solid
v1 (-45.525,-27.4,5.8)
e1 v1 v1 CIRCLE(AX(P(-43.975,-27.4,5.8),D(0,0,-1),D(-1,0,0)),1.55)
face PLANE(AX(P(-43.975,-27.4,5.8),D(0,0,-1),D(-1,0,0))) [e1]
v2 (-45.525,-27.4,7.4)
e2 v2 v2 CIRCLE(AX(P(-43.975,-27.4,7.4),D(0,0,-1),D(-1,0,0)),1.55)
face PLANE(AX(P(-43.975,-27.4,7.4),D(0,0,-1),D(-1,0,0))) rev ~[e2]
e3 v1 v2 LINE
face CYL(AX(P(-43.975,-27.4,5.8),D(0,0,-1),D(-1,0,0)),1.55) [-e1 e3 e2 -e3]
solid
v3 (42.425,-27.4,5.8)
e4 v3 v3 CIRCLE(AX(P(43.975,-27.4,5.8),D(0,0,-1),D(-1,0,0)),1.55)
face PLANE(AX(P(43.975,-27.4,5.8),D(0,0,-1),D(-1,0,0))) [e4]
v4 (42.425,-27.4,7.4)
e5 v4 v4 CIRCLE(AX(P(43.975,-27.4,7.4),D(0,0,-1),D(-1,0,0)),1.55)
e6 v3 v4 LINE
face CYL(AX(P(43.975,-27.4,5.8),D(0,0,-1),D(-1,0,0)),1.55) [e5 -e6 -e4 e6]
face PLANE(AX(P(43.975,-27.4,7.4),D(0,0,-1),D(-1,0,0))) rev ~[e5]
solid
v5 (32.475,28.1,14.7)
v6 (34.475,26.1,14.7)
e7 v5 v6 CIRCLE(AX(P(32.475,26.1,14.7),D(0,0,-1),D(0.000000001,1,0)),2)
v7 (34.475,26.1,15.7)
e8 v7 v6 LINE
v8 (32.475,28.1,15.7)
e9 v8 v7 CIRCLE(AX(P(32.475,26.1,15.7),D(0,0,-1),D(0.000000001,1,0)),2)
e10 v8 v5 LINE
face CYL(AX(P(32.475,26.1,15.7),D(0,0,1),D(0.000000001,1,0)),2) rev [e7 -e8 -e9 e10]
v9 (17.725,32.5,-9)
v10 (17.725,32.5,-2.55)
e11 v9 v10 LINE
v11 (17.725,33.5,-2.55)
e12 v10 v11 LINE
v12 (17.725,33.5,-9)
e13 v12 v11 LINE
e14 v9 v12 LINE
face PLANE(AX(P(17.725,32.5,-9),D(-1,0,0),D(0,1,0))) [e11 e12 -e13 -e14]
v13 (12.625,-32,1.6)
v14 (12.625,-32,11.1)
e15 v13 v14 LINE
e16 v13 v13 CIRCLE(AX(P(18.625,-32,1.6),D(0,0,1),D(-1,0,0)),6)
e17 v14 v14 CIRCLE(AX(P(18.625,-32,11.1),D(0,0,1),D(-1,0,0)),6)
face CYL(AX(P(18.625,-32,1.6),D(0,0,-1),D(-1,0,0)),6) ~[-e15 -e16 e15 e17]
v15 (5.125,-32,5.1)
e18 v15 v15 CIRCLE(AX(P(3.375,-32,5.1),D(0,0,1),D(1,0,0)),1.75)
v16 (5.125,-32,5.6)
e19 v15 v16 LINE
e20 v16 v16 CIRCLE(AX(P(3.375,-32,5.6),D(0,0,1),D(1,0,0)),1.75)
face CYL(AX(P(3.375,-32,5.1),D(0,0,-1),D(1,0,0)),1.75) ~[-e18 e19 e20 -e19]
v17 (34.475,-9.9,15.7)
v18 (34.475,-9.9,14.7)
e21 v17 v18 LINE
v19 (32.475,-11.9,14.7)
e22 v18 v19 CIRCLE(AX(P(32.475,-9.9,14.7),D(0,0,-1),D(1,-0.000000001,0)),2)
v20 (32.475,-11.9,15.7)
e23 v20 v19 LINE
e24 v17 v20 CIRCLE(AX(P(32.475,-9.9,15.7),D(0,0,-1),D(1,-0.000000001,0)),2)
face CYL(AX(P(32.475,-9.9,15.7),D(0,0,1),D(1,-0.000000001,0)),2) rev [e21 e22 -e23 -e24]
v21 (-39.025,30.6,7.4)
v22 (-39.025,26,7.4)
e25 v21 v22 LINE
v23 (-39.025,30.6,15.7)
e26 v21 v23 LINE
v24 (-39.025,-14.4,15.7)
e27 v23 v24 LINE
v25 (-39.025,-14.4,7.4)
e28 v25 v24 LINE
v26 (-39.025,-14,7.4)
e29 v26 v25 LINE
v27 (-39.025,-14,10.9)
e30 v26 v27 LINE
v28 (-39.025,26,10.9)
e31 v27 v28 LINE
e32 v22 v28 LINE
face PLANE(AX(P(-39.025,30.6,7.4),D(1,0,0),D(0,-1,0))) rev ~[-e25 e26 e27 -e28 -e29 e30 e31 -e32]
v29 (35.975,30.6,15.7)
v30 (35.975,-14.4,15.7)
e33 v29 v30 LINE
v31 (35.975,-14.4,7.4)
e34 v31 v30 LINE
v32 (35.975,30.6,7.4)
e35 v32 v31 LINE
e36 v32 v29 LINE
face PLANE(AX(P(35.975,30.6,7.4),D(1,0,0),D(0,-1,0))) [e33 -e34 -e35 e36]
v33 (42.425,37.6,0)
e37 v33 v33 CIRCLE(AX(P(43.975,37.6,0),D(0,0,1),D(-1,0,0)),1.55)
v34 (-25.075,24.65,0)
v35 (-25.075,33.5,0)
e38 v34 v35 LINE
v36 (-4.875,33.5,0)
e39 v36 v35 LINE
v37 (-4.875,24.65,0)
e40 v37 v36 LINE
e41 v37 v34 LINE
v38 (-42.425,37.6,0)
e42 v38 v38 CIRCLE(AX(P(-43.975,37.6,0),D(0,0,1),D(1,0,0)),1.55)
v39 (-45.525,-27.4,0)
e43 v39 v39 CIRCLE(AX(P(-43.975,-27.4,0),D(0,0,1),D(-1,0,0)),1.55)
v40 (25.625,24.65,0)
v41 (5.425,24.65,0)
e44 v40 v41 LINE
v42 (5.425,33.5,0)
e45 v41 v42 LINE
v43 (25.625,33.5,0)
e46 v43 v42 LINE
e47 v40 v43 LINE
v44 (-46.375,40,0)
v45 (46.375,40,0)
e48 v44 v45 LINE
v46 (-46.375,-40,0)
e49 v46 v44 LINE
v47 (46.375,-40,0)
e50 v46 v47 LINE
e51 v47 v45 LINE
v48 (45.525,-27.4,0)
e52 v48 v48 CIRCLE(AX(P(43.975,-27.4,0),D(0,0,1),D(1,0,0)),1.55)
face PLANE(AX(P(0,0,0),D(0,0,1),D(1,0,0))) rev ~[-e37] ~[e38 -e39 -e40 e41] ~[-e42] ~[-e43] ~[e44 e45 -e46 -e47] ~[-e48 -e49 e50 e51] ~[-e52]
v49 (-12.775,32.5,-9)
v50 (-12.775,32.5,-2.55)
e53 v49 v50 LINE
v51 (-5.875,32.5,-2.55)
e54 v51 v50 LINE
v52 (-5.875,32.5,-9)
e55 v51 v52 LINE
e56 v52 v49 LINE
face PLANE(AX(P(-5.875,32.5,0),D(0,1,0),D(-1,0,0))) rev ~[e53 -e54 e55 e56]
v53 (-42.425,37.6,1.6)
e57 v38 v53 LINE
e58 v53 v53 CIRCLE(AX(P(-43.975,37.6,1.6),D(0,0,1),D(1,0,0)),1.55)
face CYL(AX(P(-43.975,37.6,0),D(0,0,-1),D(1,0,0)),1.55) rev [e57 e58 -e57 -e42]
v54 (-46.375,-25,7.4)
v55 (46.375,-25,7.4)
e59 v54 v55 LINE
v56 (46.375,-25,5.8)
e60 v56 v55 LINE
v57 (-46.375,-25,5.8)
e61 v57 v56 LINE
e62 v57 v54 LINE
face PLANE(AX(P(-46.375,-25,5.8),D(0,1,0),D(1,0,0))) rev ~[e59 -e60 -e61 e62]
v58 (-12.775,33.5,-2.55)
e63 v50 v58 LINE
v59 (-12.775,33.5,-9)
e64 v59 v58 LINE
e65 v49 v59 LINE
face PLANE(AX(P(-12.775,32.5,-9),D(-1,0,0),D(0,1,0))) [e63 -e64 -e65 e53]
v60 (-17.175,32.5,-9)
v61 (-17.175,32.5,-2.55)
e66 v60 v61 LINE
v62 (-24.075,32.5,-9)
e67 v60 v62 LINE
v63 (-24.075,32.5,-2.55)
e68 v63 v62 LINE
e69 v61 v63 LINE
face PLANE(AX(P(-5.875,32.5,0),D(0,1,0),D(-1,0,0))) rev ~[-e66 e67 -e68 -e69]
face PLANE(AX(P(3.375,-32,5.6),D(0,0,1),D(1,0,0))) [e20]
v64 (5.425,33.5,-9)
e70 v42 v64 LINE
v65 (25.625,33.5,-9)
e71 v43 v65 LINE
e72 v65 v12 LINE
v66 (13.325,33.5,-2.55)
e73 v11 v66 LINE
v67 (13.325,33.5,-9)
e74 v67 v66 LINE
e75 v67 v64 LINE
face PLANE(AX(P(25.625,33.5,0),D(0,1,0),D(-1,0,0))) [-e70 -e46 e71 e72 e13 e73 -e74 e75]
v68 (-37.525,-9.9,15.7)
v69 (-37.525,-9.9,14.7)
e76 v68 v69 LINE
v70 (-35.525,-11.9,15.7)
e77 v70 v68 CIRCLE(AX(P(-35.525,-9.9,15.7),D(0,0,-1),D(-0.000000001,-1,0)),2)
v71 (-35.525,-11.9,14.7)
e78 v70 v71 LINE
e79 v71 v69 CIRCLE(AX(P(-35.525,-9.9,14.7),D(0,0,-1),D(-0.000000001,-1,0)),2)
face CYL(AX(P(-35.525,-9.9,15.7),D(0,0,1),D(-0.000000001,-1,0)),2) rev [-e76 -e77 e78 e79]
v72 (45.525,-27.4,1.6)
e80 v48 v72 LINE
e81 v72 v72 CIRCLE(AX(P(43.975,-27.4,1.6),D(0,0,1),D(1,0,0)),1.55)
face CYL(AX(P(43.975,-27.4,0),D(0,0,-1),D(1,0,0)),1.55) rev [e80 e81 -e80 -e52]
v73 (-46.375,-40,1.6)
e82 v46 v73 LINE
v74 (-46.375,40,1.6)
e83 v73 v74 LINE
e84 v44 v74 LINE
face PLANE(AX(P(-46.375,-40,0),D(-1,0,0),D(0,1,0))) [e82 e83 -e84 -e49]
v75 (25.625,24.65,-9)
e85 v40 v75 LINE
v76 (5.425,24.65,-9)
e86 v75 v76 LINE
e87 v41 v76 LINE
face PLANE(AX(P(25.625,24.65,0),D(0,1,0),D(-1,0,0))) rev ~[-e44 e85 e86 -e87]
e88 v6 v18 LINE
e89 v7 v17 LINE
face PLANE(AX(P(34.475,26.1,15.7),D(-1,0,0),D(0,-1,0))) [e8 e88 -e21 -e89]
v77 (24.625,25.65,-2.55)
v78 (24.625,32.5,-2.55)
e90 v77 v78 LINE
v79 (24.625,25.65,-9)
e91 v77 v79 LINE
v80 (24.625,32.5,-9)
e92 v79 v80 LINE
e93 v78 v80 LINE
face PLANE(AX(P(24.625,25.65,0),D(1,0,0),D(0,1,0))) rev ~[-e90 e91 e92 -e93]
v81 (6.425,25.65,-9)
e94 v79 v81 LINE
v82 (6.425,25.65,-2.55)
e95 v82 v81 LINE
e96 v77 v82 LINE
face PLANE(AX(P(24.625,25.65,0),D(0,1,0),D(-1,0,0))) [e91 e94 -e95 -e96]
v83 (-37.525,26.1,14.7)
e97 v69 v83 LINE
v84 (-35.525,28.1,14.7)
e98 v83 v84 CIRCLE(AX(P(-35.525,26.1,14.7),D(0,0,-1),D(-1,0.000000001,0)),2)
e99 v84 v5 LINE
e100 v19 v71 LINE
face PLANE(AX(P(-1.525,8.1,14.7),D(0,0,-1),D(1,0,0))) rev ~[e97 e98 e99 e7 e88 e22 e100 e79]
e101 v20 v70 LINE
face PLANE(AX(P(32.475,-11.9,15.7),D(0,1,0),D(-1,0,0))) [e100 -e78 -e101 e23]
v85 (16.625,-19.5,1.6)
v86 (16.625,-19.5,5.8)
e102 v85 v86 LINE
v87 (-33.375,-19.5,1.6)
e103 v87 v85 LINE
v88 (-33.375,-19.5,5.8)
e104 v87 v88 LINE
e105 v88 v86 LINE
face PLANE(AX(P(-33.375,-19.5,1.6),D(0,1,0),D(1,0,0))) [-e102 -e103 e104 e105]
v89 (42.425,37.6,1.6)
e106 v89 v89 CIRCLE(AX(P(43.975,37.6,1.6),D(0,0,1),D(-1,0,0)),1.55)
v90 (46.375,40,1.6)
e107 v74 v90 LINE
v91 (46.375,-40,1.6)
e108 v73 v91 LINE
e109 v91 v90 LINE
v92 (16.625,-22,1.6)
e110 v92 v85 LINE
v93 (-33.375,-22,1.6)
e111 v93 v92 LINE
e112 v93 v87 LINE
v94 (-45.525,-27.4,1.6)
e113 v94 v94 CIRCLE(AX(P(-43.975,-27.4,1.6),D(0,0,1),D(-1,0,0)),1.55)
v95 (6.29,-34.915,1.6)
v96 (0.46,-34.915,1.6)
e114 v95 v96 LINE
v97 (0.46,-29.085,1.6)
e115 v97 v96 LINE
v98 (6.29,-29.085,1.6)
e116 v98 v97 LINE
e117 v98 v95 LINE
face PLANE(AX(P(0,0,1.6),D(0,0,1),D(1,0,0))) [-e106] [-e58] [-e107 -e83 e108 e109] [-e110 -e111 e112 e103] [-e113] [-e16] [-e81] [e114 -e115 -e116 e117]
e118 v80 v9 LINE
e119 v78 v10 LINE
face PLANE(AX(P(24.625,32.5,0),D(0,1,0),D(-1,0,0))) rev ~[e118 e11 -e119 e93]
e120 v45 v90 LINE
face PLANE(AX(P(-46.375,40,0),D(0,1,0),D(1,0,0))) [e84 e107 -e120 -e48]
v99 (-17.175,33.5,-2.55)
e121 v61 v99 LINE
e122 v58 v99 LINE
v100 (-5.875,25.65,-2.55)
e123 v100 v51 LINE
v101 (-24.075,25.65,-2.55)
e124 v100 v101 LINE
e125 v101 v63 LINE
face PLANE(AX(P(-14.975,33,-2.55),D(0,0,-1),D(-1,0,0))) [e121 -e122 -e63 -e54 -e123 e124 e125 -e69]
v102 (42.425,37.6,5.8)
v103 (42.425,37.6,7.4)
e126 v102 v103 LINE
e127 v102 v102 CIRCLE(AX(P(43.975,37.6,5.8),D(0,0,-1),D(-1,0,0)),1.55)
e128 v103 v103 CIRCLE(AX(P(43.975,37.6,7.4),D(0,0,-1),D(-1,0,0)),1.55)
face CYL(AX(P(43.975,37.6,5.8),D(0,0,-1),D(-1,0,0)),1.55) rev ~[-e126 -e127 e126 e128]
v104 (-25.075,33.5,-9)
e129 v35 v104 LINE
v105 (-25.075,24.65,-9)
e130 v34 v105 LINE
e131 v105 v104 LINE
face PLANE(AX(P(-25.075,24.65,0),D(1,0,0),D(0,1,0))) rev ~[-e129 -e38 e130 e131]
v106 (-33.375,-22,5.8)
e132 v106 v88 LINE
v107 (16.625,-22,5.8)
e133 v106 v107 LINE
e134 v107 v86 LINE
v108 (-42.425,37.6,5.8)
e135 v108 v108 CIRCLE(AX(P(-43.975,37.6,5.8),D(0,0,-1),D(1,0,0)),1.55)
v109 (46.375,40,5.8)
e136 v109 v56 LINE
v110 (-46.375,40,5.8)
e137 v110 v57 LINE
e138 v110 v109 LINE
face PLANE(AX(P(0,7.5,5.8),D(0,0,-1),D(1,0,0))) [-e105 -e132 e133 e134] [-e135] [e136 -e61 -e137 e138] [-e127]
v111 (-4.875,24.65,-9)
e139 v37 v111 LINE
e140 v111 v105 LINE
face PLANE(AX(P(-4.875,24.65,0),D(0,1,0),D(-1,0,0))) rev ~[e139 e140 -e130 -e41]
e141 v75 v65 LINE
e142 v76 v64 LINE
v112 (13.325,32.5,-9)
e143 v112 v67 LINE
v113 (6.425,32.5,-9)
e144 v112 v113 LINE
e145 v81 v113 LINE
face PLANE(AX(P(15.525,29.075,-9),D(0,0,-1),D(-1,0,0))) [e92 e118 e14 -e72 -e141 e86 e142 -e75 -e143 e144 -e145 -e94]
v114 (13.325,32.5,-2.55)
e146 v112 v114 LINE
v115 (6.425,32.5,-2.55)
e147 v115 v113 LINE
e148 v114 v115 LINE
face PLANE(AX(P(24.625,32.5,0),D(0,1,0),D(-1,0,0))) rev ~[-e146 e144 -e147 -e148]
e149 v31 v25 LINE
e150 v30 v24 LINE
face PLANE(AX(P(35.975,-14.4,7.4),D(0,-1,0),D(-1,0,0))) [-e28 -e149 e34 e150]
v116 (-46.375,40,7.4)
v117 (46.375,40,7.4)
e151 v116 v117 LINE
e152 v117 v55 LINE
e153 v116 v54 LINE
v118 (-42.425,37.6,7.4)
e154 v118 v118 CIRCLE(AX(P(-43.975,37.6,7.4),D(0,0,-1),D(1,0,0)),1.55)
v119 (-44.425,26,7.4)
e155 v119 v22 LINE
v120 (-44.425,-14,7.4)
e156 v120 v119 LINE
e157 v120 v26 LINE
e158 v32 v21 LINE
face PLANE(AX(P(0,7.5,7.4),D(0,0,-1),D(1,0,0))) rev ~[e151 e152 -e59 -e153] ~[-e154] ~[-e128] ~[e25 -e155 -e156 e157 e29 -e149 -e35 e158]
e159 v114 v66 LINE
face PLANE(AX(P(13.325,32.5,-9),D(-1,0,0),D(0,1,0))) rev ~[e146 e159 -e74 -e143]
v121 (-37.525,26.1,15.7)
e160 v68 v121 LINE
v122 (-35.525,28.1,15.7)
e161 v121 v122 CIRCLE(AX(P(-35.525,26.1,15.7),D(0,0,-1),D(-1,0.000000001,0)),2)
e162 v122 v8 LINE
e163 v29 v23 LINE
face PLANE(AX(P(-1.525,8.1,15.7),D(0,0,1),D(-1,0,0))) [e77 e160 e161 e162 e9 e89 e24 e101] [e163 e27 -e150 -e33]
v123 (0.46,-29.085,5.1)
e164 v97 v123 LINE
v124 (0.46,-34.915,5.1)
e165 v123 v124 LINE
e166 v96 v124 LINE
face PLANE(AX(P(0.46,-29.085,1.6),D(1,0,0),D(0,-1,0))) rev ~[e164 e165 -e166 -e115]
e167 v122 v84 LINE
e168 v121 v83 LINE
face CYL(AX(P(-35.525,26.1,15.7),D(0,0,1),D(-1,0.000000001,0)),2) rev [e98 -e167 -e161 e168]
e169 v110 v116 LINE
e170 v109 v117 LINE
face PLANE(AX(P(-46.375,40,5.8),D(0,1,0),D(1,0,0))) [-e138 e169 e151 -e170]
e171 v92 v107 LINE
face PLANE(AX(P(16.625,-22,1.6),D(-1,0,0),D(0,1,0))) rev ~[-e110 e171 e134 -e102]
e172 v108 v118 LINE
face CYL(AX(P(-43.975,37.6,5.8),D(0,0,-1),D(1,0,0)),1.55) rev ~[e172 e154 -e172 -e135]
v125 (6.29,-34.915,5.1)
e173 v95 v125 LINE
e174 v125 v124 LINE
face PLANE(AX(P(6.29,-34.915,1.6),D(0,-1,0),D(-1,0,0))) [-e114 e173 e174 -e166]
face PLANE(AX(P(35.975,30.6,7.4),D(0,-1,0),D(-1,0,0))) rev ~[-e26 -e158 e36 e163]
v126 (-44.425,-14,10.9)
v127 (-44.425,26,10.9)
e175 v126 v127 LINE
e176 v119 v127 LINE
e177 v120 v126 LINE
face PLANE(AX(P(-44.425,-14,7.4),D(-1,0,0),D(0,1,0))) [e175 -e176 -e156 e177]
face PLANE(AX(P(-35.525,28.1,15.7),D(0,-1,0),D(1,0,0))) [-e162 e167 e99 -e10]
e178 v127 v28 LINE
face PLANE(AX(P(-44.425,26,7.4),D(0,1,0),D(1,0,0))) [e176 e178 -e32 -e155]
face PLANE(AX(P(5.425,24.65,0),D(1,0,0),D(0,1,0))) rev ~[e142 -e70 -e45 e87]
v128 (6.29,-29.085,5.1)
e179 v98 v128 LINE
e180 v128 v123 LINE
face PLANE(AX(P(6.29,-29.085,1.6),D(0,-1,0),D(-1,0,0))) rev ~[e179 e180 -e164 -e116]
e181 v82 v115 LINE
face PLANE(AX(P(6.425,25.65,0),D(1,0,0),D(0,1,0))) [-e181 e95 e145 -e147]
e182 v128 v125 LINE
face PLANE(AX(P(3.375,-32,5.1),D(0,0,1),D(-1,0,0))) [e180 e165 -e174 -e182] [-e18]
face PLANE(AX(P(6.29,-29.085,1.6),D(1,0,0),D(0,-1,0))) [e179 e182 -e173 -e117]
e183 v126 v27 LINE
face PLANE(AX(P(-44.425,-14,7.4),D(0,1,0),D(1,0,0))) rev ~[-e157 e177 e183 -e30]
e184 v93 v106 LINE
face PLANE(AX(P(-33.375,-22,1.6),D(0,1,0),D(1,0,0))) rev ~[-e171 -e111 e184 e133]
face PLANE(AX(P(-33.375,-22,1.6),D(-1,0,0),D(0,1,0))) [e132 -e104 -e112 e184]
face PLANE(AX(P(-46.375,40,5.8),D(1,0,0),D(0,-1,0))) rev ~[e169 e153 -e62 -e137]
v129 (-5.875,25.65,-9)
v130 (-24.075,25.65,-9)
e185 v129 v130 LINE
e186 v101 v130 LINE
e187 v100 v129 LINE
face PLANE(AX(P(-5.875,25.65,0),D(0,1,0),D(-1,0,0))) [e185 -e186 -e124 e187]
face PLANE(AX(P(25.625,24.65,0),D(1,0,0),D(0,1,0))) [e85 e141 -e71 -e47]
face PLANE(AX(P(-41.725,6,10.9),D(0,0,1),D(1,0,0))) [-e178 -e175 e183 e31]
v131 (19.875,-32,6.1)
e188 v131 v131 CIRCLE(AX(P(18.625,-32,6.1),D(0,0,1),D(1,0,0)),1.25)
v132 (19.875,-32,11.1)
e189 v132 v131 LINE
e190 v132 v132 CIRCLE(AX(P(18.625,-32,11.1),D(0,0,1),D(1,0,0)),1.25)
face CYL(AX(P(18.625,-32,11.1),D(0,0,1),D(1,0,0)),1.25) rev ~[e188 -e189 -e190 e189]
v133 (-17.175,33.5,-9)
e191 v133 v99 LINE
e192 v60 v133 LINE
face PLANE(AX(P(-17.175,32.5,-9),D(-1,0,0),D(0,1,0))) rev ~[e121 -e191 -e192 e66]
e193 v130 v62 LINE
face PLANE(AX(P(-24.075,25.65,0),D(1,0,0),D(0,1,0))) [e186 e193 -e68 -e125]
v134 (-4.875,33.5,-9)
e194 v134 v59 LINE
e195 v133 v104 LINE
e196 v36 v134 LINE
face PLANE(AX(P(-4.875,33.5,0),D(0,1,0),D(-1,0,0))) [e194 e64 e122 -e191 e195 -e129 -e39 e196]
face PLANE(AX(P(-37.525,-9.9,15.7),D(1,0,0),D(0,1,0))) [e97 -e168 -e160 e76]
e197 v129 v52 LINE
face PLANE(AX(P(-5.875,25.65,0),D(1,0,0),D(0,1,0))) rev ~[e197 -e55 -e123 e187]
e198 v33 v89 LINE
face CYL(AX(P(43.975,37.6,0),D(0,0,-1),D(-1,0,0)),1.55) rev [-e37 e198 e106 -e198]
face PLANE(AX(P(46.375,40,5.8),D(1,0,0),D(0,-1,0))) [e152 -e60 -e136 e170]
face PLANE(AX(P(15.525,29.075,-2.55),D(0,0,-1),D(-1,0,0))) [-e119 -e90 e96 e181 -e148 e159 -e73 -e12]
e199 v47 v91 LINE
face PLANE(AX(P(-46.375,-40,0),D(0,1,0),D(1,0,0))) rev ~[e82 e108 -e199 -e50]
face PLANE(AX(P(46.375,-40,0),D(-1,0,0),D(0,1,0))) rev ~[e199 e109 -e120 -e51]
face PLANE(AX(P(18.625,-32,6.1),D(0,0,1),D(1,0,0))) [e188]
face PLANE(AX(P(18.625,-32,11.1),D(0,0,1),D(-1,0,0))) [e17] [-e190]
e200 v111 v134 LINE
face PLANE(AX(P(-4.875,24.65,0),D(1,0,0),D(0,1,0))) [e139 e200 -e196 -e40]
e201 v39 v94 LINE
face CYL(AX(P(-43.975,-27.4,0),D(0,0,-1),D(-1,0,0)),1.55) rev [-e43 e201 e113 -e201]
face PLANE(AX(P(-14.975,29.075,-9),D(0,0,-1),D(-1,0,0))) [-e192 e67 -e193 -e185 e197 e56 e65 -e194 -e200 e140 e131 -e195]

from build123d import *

# Parameters (mm, degrees)
SKETCH1_W                             = 92.75
SKETCH1_H                             = 80
SKETCH1_R                             = 1.55
BOSS_EXTRUDE1_FIRST_PCB_DEPTH         = 1.6
SKETCH2_R                             = 6
BOSS_EXTRUDE2_SPEAKER_DEPTH           = 9.5
SKETCH15_R                            = 1.25
CUT_EXTRUDE1_SPEAKER_HOLE_DEPTH       = 5
SKETCH4_W                             = 5.83
SKETCH4_H                             = 5.83
BOSS_EXTRUDE4_RESET_SWITCH_DEPTH      = 3.5
SKETCH5_R                             = 1.75
BOSS_EXTRUDE5_RESET_BUTTON_DEPTH      = 0.5
SKETCH19_W                            = 50
SKETCH19_H                            = 2.5
BOSS_EXTRUDE10_CONNECTOR_DEPTH        = 4.2
SKETCH11_R                            = 1.55
SKETCH11_W                            = 92.75
SKETCH11_H                            = 65
BOSS_EXTRUDE11_UPPER_PCB_DEPTH        = 1.6
SKETCH12_W                            = 75
SKETCH12_H                            = 45
BOSS_EXTRUDE12_LCD_DEPTH              = 8.3
SKETCH24_W                            = 5.4
SKETCH24_H                            = 40
BOSS_EXTRUDE13_LCD_BUMPOUT_DEPTH      = 3.5
CUT_EXTRUDE2_SCREEN_RECESS_DEPTH      = 1
SKETCH21_W                            = 20.2
SKETCH21_H                            = 8.85
SKETCH21_W_2                          = 18.2
SKETCH21_H_2                          = 6.85
BOSS_EXTRUDE14_CONNECTORS_DEPTH       = 9
SKETCH22_W                            = 18.2
SKETCH22_H                            = 6.85
BOSS_EXTRUDE15_CONNECTOR_RECESS_DEPTH = 2.55
SKETCH23_W                            = 4.4
SKETCH23_H                            = 1
CUT_EXTRUDE3_CONNECTOR_NOTCH_DEPTH    = 6.45


with BuildPart() as part:
    # Sketch1 → Boss-Extrude1 - First PCB (new body)
    with BuildSketch(Plane.XY):
        Rectangle(SKETCH1_W, SKETCH1_H)
        with Locations((-43.975, 37.6)):
            Circle(SKETCH1_R, mode=Mode.SUBTRACT)
        with Locations(Location((43.975, 37.6, 0), (0, 0, 180))):
            Circle(SKETCH1_R, mode=Mode.SUBTRACT)
        with Locations((43.975, -27.4)):
            Circle(SKETCH1_R, mode=Mode.SUBTRACT)
        with Locations(Location((-43.975, -27.4, 0), (0, 0, 180))):
            Circle(SKETCH1_R, mode=Mode.SUBTRACT)
    extrude(amount=BOSS_EXTRUDE1_FIRST_PCB_DEPTH)

    # Sketch2 → Boss-Extrude2 - Speaker (add)
    with BuildSketch(Plane.XY.offset(1.6)):
        with Locations(Location((18.625, -32, 0), (0, 0, 180))):
            Circle(SKETCH2_R)
    extrude(amount=BOSS_EXTRUDE2_SPEAKER_DEPTH)

    # Sketch15 → Cut-Extrude1 - Speaker Hole (cut)
    with BuildSketch(Plane.XY.offset(11.1)):
        with Locations((18.625, -32)):
            Circle(SKETCH15_R)
    extrude(amount=-CUT_EXTRUDE1_SPEAKER_HOLE_DEPTH, mode=Mode.SUBTRACT)

    # Sketch4 → Boss-Extrude4 - Reset Switch (add)
    with BuildSketch(Plane(origin=(0, 0, 1.6), x_dir=(-1, 0, 0), z_dir=(0, 0, 1))):
        with Locations((-3.375, 32)):
            Rectangle(SKETCH4_W, SKETCH4_H)
    extrude(amount=BOSS_EXTRUDE4_RESET_SWITCH_DEPTH)

    # Sketch5 → Boss-Extrude5 - Reset Button (add)
    with BuildSketch(Plane(origin=(0, 0, 5.1), x_dir=(-1, 0, 0), z_dir=(0, 0, 1))):
        with Locations(Location((-3.375, 32, 0), (0, 0, 180))):
            Circle(SKETCH5_R)
    extrude(amount=BOSS_EXTRUDE5_RESET_BUTTON_DEPTH)

    # Sketch19 → Boss-Extrude10 - Connector (add)
    with BuildSketch(Plane.XY.offset(1.6)):
        with Locations((-8.375, -20.75)):
            Rectangle(SKETCH19_W, SKETCH19_H)
    extrude(amount=BOSS_EXTRUDE10_CONNECTOR_DEPTH)

    # Sketch11 → Boss-Extrude11 - Upper PCB (add)
    # profile 1 of 3: a face of its own
    with BuildSketch(Plane(origin=(0, -2, 5.8), x_dir=(1, 0, 0), z_dir=(0, 0, -1))):
        with Locations(Location((-43.975, 25.4, 0), (0, 0, 180))):
            Circle(SKETCH11_R)
    # profile 2 of 3: a face of its own
    with BuildSketch(Plane(origin=(0, -2, 5.8), x_dir=(1, 0, 0), z_dir=(0, 0, -1))):
        with Locations(Location((43.975, 25.4, 0), (0, 0, 180))):
            Circle(SKETCH11_R)
    # profile 3 of 3: a face of its own
    with BuildSketch(Plane(origin=(0, -2, 5.8), x_dir=(1, 0, 0), z_dir=(0, 0, -1))):
        with Locations((0, -9.5)):
            Rectangle(SKETCH11_W, SKETCH11_H)
        with Locations((-43.975, -39.6)):
            Circle(SKETCH11_R, mode=Mode.SUBTRACT)
        with Locations(Location((43.975, -39.6, 0), (0, 0, 180))):
            Circle(SKETCH11_R, mode=Mode.SUBTRACT)
    extrude(amount=-BOSS_EXTRUDE11_UPPER_PCB_DEPTH)


with BuildPart() as boss_extrude11_upper_pcb_piece_1:
    # of the separate pieces the step leaves, piece 1, a body of its own (boss_extrude11_upper_pcb_pieces)
    add(part.part.solids().sort_by_distance((46.375, -25, 5.8))[0])

    # Sketch12 → Boss-Extrude12 - LCD (add)
    with BuildSketch(Plane(origin=(0, 0, 7.4), x_dir=(-1, 0, 0), z_dir=(0, 0, 1))):
        with Locations((1.525, -8.1)):
            Rectangle(SKETCH12_W, SKETCH12_H)
    extrude(amount=BOSS_EXTRUDE12_LCD_DEPTH)

    # Sketch24 → Boss-Extrude13 - LCD Bumpout (add)
    with BuildSketch(Plane.XY.offset(7.4)):
        with Locations((-41.725, 6)):
            Rectangle(SKETCH24_W, SKETCH24_H)
    extrude(amount=BOSS_EXTRUDE13_LCD_BUMPOUT_DEPTH)

    # Sketch13 → Cut-Extrude2 - Screen Recess (cut)
    with BuildSketch(Plane(origin=(0, 0, 15.7), x_dir=(-1, 0, 0), z_dir=(0, 0, 1))):
        with BuildLine():
            Line((-32.475, 11.9), (35.525, 11.9))
            ThreePointArc((35.525, 11.9), (36.939213562, 11.314213562), (37.525, 9.9))
            Line((37.525, 9.9), (37.525, -26.1))
            ThreePointArc((37.525, -26.1), (36.939213562, -27.514213562), (35.525, -28.1))
            Line((35.525, -28.1), (-32.475, -28.1))
            ThreePointArc((-32.475, -28.1), (-33.889213562, -27.514213562), (-34.475, -26.1))
            Line((-34.475, -26.1), (-34.475, 9.9))
            ThreePointArc((-34.475, 9.9), (-33.889213562, 11.314213562), (-32.475, 11.9))
        make_face()
    extrude(amount=-CUT_EXTRUDE2_SCREEN_RECESS_DEPTH, mode=Mode.SUBTRACT)

    # Sketch21 → Boss-Extrude14 - Connectors (add)
    # profile 1 of 2: a face of its own
    with BuildSketch(Plane(origin=(0, 0, 0), x_dir=(-1, 0, 0), z_dir=(0, 0, -1))):
        with Locations((-15.525, 29.075)):
            Rectangle(SKETCH21_W, SKETCH21_H)
        with Locations((-15.525, 29.075)):
            Rectangle(SKETCH21_W_2, SKETCH21_H_2, mode=Mode.SUBTRACT)
    # profile 2 of 2: a face of its own
    with BuildSketch(Plane(origin=(0, 0, 0), x_dir=(-1, 0, 0), z_dir=(0, 0, -1))):
        with Locations((14.975, 29.075)):
            Rectangle(SKETCH21_W, SKETCH21_H)
        with Locations((14.975, 29.075)):
            Rectangle(SKETCH21_W_2, SKETCH21_H_2, mode=Mode.SUBTRACT)
    extrude(amount=BOSS_EXTRUDE14_CONNECTORS_DEPTH)

    # Sketch22 → Boss-Extrude15 - Connector Recess (add)
    with BuildSketch(Plane(origin=(0, 0, 0), x_dir=(-1, 0, 0), z_dir=(0, 0, -1))):
        with Locations((-15.525, 29.075)):
            Rectangle(SKETCH22_W, SKETCH22_H)
        with Locations((14.975, 29.075)):
            Rectangle(SKETCH22_W, SKETCH22_H)
    extrude(amount=BOSS_EXTRUDE15_CONNECTOR_RECESS_DEPTH)

    # Sketch23 → Cut-Extrude3 - Connector Notch (cut)
    with BuildSketch(Plane(origin=(0, 0, -9), x_dir=(-1, 0, 0), z_dir=(0, 0, -1))):
        with Locations((-15.525, 33)):
            Rectangle(SKETCH23_W, SKETCH23_H)
        with Locations((14.975, 33)):
            Rectangle(SKETCH23_W, SKETCH23_H)
    extrude(amount=-CUT_EXTRUDE3_CONNECTOR_NOTCH_DEPTH, mode=Mode.SUBTRACT)


with BuildPart() as boss_extrude11_upper_pcb_piece_2:
    # of the separate pieces the step leaves, piece 2, a body of its own (boss_extrude11_upper_pcb_pieces)
    add(part.part.solids().sort_by_distance((-45.525, -27.4, 5.8))[0])


with BuildPart() as boss_extrude11_upper_pcb_piece_3:
    # of the separate pieces the step leaves, piece 3, a body of its own (boss_extrude11_upper_pcb_pieces)
    add(part.part.solids().sort_by_distance((42.425, -27.4, 5.8))[0])


solid = Compound([boss_extrude11_upper_pcb_piece_1.part, boss_extrude11_upper_pcb_piece_2.part, boss_extrude11_upper_pcb_piece_3.part])
